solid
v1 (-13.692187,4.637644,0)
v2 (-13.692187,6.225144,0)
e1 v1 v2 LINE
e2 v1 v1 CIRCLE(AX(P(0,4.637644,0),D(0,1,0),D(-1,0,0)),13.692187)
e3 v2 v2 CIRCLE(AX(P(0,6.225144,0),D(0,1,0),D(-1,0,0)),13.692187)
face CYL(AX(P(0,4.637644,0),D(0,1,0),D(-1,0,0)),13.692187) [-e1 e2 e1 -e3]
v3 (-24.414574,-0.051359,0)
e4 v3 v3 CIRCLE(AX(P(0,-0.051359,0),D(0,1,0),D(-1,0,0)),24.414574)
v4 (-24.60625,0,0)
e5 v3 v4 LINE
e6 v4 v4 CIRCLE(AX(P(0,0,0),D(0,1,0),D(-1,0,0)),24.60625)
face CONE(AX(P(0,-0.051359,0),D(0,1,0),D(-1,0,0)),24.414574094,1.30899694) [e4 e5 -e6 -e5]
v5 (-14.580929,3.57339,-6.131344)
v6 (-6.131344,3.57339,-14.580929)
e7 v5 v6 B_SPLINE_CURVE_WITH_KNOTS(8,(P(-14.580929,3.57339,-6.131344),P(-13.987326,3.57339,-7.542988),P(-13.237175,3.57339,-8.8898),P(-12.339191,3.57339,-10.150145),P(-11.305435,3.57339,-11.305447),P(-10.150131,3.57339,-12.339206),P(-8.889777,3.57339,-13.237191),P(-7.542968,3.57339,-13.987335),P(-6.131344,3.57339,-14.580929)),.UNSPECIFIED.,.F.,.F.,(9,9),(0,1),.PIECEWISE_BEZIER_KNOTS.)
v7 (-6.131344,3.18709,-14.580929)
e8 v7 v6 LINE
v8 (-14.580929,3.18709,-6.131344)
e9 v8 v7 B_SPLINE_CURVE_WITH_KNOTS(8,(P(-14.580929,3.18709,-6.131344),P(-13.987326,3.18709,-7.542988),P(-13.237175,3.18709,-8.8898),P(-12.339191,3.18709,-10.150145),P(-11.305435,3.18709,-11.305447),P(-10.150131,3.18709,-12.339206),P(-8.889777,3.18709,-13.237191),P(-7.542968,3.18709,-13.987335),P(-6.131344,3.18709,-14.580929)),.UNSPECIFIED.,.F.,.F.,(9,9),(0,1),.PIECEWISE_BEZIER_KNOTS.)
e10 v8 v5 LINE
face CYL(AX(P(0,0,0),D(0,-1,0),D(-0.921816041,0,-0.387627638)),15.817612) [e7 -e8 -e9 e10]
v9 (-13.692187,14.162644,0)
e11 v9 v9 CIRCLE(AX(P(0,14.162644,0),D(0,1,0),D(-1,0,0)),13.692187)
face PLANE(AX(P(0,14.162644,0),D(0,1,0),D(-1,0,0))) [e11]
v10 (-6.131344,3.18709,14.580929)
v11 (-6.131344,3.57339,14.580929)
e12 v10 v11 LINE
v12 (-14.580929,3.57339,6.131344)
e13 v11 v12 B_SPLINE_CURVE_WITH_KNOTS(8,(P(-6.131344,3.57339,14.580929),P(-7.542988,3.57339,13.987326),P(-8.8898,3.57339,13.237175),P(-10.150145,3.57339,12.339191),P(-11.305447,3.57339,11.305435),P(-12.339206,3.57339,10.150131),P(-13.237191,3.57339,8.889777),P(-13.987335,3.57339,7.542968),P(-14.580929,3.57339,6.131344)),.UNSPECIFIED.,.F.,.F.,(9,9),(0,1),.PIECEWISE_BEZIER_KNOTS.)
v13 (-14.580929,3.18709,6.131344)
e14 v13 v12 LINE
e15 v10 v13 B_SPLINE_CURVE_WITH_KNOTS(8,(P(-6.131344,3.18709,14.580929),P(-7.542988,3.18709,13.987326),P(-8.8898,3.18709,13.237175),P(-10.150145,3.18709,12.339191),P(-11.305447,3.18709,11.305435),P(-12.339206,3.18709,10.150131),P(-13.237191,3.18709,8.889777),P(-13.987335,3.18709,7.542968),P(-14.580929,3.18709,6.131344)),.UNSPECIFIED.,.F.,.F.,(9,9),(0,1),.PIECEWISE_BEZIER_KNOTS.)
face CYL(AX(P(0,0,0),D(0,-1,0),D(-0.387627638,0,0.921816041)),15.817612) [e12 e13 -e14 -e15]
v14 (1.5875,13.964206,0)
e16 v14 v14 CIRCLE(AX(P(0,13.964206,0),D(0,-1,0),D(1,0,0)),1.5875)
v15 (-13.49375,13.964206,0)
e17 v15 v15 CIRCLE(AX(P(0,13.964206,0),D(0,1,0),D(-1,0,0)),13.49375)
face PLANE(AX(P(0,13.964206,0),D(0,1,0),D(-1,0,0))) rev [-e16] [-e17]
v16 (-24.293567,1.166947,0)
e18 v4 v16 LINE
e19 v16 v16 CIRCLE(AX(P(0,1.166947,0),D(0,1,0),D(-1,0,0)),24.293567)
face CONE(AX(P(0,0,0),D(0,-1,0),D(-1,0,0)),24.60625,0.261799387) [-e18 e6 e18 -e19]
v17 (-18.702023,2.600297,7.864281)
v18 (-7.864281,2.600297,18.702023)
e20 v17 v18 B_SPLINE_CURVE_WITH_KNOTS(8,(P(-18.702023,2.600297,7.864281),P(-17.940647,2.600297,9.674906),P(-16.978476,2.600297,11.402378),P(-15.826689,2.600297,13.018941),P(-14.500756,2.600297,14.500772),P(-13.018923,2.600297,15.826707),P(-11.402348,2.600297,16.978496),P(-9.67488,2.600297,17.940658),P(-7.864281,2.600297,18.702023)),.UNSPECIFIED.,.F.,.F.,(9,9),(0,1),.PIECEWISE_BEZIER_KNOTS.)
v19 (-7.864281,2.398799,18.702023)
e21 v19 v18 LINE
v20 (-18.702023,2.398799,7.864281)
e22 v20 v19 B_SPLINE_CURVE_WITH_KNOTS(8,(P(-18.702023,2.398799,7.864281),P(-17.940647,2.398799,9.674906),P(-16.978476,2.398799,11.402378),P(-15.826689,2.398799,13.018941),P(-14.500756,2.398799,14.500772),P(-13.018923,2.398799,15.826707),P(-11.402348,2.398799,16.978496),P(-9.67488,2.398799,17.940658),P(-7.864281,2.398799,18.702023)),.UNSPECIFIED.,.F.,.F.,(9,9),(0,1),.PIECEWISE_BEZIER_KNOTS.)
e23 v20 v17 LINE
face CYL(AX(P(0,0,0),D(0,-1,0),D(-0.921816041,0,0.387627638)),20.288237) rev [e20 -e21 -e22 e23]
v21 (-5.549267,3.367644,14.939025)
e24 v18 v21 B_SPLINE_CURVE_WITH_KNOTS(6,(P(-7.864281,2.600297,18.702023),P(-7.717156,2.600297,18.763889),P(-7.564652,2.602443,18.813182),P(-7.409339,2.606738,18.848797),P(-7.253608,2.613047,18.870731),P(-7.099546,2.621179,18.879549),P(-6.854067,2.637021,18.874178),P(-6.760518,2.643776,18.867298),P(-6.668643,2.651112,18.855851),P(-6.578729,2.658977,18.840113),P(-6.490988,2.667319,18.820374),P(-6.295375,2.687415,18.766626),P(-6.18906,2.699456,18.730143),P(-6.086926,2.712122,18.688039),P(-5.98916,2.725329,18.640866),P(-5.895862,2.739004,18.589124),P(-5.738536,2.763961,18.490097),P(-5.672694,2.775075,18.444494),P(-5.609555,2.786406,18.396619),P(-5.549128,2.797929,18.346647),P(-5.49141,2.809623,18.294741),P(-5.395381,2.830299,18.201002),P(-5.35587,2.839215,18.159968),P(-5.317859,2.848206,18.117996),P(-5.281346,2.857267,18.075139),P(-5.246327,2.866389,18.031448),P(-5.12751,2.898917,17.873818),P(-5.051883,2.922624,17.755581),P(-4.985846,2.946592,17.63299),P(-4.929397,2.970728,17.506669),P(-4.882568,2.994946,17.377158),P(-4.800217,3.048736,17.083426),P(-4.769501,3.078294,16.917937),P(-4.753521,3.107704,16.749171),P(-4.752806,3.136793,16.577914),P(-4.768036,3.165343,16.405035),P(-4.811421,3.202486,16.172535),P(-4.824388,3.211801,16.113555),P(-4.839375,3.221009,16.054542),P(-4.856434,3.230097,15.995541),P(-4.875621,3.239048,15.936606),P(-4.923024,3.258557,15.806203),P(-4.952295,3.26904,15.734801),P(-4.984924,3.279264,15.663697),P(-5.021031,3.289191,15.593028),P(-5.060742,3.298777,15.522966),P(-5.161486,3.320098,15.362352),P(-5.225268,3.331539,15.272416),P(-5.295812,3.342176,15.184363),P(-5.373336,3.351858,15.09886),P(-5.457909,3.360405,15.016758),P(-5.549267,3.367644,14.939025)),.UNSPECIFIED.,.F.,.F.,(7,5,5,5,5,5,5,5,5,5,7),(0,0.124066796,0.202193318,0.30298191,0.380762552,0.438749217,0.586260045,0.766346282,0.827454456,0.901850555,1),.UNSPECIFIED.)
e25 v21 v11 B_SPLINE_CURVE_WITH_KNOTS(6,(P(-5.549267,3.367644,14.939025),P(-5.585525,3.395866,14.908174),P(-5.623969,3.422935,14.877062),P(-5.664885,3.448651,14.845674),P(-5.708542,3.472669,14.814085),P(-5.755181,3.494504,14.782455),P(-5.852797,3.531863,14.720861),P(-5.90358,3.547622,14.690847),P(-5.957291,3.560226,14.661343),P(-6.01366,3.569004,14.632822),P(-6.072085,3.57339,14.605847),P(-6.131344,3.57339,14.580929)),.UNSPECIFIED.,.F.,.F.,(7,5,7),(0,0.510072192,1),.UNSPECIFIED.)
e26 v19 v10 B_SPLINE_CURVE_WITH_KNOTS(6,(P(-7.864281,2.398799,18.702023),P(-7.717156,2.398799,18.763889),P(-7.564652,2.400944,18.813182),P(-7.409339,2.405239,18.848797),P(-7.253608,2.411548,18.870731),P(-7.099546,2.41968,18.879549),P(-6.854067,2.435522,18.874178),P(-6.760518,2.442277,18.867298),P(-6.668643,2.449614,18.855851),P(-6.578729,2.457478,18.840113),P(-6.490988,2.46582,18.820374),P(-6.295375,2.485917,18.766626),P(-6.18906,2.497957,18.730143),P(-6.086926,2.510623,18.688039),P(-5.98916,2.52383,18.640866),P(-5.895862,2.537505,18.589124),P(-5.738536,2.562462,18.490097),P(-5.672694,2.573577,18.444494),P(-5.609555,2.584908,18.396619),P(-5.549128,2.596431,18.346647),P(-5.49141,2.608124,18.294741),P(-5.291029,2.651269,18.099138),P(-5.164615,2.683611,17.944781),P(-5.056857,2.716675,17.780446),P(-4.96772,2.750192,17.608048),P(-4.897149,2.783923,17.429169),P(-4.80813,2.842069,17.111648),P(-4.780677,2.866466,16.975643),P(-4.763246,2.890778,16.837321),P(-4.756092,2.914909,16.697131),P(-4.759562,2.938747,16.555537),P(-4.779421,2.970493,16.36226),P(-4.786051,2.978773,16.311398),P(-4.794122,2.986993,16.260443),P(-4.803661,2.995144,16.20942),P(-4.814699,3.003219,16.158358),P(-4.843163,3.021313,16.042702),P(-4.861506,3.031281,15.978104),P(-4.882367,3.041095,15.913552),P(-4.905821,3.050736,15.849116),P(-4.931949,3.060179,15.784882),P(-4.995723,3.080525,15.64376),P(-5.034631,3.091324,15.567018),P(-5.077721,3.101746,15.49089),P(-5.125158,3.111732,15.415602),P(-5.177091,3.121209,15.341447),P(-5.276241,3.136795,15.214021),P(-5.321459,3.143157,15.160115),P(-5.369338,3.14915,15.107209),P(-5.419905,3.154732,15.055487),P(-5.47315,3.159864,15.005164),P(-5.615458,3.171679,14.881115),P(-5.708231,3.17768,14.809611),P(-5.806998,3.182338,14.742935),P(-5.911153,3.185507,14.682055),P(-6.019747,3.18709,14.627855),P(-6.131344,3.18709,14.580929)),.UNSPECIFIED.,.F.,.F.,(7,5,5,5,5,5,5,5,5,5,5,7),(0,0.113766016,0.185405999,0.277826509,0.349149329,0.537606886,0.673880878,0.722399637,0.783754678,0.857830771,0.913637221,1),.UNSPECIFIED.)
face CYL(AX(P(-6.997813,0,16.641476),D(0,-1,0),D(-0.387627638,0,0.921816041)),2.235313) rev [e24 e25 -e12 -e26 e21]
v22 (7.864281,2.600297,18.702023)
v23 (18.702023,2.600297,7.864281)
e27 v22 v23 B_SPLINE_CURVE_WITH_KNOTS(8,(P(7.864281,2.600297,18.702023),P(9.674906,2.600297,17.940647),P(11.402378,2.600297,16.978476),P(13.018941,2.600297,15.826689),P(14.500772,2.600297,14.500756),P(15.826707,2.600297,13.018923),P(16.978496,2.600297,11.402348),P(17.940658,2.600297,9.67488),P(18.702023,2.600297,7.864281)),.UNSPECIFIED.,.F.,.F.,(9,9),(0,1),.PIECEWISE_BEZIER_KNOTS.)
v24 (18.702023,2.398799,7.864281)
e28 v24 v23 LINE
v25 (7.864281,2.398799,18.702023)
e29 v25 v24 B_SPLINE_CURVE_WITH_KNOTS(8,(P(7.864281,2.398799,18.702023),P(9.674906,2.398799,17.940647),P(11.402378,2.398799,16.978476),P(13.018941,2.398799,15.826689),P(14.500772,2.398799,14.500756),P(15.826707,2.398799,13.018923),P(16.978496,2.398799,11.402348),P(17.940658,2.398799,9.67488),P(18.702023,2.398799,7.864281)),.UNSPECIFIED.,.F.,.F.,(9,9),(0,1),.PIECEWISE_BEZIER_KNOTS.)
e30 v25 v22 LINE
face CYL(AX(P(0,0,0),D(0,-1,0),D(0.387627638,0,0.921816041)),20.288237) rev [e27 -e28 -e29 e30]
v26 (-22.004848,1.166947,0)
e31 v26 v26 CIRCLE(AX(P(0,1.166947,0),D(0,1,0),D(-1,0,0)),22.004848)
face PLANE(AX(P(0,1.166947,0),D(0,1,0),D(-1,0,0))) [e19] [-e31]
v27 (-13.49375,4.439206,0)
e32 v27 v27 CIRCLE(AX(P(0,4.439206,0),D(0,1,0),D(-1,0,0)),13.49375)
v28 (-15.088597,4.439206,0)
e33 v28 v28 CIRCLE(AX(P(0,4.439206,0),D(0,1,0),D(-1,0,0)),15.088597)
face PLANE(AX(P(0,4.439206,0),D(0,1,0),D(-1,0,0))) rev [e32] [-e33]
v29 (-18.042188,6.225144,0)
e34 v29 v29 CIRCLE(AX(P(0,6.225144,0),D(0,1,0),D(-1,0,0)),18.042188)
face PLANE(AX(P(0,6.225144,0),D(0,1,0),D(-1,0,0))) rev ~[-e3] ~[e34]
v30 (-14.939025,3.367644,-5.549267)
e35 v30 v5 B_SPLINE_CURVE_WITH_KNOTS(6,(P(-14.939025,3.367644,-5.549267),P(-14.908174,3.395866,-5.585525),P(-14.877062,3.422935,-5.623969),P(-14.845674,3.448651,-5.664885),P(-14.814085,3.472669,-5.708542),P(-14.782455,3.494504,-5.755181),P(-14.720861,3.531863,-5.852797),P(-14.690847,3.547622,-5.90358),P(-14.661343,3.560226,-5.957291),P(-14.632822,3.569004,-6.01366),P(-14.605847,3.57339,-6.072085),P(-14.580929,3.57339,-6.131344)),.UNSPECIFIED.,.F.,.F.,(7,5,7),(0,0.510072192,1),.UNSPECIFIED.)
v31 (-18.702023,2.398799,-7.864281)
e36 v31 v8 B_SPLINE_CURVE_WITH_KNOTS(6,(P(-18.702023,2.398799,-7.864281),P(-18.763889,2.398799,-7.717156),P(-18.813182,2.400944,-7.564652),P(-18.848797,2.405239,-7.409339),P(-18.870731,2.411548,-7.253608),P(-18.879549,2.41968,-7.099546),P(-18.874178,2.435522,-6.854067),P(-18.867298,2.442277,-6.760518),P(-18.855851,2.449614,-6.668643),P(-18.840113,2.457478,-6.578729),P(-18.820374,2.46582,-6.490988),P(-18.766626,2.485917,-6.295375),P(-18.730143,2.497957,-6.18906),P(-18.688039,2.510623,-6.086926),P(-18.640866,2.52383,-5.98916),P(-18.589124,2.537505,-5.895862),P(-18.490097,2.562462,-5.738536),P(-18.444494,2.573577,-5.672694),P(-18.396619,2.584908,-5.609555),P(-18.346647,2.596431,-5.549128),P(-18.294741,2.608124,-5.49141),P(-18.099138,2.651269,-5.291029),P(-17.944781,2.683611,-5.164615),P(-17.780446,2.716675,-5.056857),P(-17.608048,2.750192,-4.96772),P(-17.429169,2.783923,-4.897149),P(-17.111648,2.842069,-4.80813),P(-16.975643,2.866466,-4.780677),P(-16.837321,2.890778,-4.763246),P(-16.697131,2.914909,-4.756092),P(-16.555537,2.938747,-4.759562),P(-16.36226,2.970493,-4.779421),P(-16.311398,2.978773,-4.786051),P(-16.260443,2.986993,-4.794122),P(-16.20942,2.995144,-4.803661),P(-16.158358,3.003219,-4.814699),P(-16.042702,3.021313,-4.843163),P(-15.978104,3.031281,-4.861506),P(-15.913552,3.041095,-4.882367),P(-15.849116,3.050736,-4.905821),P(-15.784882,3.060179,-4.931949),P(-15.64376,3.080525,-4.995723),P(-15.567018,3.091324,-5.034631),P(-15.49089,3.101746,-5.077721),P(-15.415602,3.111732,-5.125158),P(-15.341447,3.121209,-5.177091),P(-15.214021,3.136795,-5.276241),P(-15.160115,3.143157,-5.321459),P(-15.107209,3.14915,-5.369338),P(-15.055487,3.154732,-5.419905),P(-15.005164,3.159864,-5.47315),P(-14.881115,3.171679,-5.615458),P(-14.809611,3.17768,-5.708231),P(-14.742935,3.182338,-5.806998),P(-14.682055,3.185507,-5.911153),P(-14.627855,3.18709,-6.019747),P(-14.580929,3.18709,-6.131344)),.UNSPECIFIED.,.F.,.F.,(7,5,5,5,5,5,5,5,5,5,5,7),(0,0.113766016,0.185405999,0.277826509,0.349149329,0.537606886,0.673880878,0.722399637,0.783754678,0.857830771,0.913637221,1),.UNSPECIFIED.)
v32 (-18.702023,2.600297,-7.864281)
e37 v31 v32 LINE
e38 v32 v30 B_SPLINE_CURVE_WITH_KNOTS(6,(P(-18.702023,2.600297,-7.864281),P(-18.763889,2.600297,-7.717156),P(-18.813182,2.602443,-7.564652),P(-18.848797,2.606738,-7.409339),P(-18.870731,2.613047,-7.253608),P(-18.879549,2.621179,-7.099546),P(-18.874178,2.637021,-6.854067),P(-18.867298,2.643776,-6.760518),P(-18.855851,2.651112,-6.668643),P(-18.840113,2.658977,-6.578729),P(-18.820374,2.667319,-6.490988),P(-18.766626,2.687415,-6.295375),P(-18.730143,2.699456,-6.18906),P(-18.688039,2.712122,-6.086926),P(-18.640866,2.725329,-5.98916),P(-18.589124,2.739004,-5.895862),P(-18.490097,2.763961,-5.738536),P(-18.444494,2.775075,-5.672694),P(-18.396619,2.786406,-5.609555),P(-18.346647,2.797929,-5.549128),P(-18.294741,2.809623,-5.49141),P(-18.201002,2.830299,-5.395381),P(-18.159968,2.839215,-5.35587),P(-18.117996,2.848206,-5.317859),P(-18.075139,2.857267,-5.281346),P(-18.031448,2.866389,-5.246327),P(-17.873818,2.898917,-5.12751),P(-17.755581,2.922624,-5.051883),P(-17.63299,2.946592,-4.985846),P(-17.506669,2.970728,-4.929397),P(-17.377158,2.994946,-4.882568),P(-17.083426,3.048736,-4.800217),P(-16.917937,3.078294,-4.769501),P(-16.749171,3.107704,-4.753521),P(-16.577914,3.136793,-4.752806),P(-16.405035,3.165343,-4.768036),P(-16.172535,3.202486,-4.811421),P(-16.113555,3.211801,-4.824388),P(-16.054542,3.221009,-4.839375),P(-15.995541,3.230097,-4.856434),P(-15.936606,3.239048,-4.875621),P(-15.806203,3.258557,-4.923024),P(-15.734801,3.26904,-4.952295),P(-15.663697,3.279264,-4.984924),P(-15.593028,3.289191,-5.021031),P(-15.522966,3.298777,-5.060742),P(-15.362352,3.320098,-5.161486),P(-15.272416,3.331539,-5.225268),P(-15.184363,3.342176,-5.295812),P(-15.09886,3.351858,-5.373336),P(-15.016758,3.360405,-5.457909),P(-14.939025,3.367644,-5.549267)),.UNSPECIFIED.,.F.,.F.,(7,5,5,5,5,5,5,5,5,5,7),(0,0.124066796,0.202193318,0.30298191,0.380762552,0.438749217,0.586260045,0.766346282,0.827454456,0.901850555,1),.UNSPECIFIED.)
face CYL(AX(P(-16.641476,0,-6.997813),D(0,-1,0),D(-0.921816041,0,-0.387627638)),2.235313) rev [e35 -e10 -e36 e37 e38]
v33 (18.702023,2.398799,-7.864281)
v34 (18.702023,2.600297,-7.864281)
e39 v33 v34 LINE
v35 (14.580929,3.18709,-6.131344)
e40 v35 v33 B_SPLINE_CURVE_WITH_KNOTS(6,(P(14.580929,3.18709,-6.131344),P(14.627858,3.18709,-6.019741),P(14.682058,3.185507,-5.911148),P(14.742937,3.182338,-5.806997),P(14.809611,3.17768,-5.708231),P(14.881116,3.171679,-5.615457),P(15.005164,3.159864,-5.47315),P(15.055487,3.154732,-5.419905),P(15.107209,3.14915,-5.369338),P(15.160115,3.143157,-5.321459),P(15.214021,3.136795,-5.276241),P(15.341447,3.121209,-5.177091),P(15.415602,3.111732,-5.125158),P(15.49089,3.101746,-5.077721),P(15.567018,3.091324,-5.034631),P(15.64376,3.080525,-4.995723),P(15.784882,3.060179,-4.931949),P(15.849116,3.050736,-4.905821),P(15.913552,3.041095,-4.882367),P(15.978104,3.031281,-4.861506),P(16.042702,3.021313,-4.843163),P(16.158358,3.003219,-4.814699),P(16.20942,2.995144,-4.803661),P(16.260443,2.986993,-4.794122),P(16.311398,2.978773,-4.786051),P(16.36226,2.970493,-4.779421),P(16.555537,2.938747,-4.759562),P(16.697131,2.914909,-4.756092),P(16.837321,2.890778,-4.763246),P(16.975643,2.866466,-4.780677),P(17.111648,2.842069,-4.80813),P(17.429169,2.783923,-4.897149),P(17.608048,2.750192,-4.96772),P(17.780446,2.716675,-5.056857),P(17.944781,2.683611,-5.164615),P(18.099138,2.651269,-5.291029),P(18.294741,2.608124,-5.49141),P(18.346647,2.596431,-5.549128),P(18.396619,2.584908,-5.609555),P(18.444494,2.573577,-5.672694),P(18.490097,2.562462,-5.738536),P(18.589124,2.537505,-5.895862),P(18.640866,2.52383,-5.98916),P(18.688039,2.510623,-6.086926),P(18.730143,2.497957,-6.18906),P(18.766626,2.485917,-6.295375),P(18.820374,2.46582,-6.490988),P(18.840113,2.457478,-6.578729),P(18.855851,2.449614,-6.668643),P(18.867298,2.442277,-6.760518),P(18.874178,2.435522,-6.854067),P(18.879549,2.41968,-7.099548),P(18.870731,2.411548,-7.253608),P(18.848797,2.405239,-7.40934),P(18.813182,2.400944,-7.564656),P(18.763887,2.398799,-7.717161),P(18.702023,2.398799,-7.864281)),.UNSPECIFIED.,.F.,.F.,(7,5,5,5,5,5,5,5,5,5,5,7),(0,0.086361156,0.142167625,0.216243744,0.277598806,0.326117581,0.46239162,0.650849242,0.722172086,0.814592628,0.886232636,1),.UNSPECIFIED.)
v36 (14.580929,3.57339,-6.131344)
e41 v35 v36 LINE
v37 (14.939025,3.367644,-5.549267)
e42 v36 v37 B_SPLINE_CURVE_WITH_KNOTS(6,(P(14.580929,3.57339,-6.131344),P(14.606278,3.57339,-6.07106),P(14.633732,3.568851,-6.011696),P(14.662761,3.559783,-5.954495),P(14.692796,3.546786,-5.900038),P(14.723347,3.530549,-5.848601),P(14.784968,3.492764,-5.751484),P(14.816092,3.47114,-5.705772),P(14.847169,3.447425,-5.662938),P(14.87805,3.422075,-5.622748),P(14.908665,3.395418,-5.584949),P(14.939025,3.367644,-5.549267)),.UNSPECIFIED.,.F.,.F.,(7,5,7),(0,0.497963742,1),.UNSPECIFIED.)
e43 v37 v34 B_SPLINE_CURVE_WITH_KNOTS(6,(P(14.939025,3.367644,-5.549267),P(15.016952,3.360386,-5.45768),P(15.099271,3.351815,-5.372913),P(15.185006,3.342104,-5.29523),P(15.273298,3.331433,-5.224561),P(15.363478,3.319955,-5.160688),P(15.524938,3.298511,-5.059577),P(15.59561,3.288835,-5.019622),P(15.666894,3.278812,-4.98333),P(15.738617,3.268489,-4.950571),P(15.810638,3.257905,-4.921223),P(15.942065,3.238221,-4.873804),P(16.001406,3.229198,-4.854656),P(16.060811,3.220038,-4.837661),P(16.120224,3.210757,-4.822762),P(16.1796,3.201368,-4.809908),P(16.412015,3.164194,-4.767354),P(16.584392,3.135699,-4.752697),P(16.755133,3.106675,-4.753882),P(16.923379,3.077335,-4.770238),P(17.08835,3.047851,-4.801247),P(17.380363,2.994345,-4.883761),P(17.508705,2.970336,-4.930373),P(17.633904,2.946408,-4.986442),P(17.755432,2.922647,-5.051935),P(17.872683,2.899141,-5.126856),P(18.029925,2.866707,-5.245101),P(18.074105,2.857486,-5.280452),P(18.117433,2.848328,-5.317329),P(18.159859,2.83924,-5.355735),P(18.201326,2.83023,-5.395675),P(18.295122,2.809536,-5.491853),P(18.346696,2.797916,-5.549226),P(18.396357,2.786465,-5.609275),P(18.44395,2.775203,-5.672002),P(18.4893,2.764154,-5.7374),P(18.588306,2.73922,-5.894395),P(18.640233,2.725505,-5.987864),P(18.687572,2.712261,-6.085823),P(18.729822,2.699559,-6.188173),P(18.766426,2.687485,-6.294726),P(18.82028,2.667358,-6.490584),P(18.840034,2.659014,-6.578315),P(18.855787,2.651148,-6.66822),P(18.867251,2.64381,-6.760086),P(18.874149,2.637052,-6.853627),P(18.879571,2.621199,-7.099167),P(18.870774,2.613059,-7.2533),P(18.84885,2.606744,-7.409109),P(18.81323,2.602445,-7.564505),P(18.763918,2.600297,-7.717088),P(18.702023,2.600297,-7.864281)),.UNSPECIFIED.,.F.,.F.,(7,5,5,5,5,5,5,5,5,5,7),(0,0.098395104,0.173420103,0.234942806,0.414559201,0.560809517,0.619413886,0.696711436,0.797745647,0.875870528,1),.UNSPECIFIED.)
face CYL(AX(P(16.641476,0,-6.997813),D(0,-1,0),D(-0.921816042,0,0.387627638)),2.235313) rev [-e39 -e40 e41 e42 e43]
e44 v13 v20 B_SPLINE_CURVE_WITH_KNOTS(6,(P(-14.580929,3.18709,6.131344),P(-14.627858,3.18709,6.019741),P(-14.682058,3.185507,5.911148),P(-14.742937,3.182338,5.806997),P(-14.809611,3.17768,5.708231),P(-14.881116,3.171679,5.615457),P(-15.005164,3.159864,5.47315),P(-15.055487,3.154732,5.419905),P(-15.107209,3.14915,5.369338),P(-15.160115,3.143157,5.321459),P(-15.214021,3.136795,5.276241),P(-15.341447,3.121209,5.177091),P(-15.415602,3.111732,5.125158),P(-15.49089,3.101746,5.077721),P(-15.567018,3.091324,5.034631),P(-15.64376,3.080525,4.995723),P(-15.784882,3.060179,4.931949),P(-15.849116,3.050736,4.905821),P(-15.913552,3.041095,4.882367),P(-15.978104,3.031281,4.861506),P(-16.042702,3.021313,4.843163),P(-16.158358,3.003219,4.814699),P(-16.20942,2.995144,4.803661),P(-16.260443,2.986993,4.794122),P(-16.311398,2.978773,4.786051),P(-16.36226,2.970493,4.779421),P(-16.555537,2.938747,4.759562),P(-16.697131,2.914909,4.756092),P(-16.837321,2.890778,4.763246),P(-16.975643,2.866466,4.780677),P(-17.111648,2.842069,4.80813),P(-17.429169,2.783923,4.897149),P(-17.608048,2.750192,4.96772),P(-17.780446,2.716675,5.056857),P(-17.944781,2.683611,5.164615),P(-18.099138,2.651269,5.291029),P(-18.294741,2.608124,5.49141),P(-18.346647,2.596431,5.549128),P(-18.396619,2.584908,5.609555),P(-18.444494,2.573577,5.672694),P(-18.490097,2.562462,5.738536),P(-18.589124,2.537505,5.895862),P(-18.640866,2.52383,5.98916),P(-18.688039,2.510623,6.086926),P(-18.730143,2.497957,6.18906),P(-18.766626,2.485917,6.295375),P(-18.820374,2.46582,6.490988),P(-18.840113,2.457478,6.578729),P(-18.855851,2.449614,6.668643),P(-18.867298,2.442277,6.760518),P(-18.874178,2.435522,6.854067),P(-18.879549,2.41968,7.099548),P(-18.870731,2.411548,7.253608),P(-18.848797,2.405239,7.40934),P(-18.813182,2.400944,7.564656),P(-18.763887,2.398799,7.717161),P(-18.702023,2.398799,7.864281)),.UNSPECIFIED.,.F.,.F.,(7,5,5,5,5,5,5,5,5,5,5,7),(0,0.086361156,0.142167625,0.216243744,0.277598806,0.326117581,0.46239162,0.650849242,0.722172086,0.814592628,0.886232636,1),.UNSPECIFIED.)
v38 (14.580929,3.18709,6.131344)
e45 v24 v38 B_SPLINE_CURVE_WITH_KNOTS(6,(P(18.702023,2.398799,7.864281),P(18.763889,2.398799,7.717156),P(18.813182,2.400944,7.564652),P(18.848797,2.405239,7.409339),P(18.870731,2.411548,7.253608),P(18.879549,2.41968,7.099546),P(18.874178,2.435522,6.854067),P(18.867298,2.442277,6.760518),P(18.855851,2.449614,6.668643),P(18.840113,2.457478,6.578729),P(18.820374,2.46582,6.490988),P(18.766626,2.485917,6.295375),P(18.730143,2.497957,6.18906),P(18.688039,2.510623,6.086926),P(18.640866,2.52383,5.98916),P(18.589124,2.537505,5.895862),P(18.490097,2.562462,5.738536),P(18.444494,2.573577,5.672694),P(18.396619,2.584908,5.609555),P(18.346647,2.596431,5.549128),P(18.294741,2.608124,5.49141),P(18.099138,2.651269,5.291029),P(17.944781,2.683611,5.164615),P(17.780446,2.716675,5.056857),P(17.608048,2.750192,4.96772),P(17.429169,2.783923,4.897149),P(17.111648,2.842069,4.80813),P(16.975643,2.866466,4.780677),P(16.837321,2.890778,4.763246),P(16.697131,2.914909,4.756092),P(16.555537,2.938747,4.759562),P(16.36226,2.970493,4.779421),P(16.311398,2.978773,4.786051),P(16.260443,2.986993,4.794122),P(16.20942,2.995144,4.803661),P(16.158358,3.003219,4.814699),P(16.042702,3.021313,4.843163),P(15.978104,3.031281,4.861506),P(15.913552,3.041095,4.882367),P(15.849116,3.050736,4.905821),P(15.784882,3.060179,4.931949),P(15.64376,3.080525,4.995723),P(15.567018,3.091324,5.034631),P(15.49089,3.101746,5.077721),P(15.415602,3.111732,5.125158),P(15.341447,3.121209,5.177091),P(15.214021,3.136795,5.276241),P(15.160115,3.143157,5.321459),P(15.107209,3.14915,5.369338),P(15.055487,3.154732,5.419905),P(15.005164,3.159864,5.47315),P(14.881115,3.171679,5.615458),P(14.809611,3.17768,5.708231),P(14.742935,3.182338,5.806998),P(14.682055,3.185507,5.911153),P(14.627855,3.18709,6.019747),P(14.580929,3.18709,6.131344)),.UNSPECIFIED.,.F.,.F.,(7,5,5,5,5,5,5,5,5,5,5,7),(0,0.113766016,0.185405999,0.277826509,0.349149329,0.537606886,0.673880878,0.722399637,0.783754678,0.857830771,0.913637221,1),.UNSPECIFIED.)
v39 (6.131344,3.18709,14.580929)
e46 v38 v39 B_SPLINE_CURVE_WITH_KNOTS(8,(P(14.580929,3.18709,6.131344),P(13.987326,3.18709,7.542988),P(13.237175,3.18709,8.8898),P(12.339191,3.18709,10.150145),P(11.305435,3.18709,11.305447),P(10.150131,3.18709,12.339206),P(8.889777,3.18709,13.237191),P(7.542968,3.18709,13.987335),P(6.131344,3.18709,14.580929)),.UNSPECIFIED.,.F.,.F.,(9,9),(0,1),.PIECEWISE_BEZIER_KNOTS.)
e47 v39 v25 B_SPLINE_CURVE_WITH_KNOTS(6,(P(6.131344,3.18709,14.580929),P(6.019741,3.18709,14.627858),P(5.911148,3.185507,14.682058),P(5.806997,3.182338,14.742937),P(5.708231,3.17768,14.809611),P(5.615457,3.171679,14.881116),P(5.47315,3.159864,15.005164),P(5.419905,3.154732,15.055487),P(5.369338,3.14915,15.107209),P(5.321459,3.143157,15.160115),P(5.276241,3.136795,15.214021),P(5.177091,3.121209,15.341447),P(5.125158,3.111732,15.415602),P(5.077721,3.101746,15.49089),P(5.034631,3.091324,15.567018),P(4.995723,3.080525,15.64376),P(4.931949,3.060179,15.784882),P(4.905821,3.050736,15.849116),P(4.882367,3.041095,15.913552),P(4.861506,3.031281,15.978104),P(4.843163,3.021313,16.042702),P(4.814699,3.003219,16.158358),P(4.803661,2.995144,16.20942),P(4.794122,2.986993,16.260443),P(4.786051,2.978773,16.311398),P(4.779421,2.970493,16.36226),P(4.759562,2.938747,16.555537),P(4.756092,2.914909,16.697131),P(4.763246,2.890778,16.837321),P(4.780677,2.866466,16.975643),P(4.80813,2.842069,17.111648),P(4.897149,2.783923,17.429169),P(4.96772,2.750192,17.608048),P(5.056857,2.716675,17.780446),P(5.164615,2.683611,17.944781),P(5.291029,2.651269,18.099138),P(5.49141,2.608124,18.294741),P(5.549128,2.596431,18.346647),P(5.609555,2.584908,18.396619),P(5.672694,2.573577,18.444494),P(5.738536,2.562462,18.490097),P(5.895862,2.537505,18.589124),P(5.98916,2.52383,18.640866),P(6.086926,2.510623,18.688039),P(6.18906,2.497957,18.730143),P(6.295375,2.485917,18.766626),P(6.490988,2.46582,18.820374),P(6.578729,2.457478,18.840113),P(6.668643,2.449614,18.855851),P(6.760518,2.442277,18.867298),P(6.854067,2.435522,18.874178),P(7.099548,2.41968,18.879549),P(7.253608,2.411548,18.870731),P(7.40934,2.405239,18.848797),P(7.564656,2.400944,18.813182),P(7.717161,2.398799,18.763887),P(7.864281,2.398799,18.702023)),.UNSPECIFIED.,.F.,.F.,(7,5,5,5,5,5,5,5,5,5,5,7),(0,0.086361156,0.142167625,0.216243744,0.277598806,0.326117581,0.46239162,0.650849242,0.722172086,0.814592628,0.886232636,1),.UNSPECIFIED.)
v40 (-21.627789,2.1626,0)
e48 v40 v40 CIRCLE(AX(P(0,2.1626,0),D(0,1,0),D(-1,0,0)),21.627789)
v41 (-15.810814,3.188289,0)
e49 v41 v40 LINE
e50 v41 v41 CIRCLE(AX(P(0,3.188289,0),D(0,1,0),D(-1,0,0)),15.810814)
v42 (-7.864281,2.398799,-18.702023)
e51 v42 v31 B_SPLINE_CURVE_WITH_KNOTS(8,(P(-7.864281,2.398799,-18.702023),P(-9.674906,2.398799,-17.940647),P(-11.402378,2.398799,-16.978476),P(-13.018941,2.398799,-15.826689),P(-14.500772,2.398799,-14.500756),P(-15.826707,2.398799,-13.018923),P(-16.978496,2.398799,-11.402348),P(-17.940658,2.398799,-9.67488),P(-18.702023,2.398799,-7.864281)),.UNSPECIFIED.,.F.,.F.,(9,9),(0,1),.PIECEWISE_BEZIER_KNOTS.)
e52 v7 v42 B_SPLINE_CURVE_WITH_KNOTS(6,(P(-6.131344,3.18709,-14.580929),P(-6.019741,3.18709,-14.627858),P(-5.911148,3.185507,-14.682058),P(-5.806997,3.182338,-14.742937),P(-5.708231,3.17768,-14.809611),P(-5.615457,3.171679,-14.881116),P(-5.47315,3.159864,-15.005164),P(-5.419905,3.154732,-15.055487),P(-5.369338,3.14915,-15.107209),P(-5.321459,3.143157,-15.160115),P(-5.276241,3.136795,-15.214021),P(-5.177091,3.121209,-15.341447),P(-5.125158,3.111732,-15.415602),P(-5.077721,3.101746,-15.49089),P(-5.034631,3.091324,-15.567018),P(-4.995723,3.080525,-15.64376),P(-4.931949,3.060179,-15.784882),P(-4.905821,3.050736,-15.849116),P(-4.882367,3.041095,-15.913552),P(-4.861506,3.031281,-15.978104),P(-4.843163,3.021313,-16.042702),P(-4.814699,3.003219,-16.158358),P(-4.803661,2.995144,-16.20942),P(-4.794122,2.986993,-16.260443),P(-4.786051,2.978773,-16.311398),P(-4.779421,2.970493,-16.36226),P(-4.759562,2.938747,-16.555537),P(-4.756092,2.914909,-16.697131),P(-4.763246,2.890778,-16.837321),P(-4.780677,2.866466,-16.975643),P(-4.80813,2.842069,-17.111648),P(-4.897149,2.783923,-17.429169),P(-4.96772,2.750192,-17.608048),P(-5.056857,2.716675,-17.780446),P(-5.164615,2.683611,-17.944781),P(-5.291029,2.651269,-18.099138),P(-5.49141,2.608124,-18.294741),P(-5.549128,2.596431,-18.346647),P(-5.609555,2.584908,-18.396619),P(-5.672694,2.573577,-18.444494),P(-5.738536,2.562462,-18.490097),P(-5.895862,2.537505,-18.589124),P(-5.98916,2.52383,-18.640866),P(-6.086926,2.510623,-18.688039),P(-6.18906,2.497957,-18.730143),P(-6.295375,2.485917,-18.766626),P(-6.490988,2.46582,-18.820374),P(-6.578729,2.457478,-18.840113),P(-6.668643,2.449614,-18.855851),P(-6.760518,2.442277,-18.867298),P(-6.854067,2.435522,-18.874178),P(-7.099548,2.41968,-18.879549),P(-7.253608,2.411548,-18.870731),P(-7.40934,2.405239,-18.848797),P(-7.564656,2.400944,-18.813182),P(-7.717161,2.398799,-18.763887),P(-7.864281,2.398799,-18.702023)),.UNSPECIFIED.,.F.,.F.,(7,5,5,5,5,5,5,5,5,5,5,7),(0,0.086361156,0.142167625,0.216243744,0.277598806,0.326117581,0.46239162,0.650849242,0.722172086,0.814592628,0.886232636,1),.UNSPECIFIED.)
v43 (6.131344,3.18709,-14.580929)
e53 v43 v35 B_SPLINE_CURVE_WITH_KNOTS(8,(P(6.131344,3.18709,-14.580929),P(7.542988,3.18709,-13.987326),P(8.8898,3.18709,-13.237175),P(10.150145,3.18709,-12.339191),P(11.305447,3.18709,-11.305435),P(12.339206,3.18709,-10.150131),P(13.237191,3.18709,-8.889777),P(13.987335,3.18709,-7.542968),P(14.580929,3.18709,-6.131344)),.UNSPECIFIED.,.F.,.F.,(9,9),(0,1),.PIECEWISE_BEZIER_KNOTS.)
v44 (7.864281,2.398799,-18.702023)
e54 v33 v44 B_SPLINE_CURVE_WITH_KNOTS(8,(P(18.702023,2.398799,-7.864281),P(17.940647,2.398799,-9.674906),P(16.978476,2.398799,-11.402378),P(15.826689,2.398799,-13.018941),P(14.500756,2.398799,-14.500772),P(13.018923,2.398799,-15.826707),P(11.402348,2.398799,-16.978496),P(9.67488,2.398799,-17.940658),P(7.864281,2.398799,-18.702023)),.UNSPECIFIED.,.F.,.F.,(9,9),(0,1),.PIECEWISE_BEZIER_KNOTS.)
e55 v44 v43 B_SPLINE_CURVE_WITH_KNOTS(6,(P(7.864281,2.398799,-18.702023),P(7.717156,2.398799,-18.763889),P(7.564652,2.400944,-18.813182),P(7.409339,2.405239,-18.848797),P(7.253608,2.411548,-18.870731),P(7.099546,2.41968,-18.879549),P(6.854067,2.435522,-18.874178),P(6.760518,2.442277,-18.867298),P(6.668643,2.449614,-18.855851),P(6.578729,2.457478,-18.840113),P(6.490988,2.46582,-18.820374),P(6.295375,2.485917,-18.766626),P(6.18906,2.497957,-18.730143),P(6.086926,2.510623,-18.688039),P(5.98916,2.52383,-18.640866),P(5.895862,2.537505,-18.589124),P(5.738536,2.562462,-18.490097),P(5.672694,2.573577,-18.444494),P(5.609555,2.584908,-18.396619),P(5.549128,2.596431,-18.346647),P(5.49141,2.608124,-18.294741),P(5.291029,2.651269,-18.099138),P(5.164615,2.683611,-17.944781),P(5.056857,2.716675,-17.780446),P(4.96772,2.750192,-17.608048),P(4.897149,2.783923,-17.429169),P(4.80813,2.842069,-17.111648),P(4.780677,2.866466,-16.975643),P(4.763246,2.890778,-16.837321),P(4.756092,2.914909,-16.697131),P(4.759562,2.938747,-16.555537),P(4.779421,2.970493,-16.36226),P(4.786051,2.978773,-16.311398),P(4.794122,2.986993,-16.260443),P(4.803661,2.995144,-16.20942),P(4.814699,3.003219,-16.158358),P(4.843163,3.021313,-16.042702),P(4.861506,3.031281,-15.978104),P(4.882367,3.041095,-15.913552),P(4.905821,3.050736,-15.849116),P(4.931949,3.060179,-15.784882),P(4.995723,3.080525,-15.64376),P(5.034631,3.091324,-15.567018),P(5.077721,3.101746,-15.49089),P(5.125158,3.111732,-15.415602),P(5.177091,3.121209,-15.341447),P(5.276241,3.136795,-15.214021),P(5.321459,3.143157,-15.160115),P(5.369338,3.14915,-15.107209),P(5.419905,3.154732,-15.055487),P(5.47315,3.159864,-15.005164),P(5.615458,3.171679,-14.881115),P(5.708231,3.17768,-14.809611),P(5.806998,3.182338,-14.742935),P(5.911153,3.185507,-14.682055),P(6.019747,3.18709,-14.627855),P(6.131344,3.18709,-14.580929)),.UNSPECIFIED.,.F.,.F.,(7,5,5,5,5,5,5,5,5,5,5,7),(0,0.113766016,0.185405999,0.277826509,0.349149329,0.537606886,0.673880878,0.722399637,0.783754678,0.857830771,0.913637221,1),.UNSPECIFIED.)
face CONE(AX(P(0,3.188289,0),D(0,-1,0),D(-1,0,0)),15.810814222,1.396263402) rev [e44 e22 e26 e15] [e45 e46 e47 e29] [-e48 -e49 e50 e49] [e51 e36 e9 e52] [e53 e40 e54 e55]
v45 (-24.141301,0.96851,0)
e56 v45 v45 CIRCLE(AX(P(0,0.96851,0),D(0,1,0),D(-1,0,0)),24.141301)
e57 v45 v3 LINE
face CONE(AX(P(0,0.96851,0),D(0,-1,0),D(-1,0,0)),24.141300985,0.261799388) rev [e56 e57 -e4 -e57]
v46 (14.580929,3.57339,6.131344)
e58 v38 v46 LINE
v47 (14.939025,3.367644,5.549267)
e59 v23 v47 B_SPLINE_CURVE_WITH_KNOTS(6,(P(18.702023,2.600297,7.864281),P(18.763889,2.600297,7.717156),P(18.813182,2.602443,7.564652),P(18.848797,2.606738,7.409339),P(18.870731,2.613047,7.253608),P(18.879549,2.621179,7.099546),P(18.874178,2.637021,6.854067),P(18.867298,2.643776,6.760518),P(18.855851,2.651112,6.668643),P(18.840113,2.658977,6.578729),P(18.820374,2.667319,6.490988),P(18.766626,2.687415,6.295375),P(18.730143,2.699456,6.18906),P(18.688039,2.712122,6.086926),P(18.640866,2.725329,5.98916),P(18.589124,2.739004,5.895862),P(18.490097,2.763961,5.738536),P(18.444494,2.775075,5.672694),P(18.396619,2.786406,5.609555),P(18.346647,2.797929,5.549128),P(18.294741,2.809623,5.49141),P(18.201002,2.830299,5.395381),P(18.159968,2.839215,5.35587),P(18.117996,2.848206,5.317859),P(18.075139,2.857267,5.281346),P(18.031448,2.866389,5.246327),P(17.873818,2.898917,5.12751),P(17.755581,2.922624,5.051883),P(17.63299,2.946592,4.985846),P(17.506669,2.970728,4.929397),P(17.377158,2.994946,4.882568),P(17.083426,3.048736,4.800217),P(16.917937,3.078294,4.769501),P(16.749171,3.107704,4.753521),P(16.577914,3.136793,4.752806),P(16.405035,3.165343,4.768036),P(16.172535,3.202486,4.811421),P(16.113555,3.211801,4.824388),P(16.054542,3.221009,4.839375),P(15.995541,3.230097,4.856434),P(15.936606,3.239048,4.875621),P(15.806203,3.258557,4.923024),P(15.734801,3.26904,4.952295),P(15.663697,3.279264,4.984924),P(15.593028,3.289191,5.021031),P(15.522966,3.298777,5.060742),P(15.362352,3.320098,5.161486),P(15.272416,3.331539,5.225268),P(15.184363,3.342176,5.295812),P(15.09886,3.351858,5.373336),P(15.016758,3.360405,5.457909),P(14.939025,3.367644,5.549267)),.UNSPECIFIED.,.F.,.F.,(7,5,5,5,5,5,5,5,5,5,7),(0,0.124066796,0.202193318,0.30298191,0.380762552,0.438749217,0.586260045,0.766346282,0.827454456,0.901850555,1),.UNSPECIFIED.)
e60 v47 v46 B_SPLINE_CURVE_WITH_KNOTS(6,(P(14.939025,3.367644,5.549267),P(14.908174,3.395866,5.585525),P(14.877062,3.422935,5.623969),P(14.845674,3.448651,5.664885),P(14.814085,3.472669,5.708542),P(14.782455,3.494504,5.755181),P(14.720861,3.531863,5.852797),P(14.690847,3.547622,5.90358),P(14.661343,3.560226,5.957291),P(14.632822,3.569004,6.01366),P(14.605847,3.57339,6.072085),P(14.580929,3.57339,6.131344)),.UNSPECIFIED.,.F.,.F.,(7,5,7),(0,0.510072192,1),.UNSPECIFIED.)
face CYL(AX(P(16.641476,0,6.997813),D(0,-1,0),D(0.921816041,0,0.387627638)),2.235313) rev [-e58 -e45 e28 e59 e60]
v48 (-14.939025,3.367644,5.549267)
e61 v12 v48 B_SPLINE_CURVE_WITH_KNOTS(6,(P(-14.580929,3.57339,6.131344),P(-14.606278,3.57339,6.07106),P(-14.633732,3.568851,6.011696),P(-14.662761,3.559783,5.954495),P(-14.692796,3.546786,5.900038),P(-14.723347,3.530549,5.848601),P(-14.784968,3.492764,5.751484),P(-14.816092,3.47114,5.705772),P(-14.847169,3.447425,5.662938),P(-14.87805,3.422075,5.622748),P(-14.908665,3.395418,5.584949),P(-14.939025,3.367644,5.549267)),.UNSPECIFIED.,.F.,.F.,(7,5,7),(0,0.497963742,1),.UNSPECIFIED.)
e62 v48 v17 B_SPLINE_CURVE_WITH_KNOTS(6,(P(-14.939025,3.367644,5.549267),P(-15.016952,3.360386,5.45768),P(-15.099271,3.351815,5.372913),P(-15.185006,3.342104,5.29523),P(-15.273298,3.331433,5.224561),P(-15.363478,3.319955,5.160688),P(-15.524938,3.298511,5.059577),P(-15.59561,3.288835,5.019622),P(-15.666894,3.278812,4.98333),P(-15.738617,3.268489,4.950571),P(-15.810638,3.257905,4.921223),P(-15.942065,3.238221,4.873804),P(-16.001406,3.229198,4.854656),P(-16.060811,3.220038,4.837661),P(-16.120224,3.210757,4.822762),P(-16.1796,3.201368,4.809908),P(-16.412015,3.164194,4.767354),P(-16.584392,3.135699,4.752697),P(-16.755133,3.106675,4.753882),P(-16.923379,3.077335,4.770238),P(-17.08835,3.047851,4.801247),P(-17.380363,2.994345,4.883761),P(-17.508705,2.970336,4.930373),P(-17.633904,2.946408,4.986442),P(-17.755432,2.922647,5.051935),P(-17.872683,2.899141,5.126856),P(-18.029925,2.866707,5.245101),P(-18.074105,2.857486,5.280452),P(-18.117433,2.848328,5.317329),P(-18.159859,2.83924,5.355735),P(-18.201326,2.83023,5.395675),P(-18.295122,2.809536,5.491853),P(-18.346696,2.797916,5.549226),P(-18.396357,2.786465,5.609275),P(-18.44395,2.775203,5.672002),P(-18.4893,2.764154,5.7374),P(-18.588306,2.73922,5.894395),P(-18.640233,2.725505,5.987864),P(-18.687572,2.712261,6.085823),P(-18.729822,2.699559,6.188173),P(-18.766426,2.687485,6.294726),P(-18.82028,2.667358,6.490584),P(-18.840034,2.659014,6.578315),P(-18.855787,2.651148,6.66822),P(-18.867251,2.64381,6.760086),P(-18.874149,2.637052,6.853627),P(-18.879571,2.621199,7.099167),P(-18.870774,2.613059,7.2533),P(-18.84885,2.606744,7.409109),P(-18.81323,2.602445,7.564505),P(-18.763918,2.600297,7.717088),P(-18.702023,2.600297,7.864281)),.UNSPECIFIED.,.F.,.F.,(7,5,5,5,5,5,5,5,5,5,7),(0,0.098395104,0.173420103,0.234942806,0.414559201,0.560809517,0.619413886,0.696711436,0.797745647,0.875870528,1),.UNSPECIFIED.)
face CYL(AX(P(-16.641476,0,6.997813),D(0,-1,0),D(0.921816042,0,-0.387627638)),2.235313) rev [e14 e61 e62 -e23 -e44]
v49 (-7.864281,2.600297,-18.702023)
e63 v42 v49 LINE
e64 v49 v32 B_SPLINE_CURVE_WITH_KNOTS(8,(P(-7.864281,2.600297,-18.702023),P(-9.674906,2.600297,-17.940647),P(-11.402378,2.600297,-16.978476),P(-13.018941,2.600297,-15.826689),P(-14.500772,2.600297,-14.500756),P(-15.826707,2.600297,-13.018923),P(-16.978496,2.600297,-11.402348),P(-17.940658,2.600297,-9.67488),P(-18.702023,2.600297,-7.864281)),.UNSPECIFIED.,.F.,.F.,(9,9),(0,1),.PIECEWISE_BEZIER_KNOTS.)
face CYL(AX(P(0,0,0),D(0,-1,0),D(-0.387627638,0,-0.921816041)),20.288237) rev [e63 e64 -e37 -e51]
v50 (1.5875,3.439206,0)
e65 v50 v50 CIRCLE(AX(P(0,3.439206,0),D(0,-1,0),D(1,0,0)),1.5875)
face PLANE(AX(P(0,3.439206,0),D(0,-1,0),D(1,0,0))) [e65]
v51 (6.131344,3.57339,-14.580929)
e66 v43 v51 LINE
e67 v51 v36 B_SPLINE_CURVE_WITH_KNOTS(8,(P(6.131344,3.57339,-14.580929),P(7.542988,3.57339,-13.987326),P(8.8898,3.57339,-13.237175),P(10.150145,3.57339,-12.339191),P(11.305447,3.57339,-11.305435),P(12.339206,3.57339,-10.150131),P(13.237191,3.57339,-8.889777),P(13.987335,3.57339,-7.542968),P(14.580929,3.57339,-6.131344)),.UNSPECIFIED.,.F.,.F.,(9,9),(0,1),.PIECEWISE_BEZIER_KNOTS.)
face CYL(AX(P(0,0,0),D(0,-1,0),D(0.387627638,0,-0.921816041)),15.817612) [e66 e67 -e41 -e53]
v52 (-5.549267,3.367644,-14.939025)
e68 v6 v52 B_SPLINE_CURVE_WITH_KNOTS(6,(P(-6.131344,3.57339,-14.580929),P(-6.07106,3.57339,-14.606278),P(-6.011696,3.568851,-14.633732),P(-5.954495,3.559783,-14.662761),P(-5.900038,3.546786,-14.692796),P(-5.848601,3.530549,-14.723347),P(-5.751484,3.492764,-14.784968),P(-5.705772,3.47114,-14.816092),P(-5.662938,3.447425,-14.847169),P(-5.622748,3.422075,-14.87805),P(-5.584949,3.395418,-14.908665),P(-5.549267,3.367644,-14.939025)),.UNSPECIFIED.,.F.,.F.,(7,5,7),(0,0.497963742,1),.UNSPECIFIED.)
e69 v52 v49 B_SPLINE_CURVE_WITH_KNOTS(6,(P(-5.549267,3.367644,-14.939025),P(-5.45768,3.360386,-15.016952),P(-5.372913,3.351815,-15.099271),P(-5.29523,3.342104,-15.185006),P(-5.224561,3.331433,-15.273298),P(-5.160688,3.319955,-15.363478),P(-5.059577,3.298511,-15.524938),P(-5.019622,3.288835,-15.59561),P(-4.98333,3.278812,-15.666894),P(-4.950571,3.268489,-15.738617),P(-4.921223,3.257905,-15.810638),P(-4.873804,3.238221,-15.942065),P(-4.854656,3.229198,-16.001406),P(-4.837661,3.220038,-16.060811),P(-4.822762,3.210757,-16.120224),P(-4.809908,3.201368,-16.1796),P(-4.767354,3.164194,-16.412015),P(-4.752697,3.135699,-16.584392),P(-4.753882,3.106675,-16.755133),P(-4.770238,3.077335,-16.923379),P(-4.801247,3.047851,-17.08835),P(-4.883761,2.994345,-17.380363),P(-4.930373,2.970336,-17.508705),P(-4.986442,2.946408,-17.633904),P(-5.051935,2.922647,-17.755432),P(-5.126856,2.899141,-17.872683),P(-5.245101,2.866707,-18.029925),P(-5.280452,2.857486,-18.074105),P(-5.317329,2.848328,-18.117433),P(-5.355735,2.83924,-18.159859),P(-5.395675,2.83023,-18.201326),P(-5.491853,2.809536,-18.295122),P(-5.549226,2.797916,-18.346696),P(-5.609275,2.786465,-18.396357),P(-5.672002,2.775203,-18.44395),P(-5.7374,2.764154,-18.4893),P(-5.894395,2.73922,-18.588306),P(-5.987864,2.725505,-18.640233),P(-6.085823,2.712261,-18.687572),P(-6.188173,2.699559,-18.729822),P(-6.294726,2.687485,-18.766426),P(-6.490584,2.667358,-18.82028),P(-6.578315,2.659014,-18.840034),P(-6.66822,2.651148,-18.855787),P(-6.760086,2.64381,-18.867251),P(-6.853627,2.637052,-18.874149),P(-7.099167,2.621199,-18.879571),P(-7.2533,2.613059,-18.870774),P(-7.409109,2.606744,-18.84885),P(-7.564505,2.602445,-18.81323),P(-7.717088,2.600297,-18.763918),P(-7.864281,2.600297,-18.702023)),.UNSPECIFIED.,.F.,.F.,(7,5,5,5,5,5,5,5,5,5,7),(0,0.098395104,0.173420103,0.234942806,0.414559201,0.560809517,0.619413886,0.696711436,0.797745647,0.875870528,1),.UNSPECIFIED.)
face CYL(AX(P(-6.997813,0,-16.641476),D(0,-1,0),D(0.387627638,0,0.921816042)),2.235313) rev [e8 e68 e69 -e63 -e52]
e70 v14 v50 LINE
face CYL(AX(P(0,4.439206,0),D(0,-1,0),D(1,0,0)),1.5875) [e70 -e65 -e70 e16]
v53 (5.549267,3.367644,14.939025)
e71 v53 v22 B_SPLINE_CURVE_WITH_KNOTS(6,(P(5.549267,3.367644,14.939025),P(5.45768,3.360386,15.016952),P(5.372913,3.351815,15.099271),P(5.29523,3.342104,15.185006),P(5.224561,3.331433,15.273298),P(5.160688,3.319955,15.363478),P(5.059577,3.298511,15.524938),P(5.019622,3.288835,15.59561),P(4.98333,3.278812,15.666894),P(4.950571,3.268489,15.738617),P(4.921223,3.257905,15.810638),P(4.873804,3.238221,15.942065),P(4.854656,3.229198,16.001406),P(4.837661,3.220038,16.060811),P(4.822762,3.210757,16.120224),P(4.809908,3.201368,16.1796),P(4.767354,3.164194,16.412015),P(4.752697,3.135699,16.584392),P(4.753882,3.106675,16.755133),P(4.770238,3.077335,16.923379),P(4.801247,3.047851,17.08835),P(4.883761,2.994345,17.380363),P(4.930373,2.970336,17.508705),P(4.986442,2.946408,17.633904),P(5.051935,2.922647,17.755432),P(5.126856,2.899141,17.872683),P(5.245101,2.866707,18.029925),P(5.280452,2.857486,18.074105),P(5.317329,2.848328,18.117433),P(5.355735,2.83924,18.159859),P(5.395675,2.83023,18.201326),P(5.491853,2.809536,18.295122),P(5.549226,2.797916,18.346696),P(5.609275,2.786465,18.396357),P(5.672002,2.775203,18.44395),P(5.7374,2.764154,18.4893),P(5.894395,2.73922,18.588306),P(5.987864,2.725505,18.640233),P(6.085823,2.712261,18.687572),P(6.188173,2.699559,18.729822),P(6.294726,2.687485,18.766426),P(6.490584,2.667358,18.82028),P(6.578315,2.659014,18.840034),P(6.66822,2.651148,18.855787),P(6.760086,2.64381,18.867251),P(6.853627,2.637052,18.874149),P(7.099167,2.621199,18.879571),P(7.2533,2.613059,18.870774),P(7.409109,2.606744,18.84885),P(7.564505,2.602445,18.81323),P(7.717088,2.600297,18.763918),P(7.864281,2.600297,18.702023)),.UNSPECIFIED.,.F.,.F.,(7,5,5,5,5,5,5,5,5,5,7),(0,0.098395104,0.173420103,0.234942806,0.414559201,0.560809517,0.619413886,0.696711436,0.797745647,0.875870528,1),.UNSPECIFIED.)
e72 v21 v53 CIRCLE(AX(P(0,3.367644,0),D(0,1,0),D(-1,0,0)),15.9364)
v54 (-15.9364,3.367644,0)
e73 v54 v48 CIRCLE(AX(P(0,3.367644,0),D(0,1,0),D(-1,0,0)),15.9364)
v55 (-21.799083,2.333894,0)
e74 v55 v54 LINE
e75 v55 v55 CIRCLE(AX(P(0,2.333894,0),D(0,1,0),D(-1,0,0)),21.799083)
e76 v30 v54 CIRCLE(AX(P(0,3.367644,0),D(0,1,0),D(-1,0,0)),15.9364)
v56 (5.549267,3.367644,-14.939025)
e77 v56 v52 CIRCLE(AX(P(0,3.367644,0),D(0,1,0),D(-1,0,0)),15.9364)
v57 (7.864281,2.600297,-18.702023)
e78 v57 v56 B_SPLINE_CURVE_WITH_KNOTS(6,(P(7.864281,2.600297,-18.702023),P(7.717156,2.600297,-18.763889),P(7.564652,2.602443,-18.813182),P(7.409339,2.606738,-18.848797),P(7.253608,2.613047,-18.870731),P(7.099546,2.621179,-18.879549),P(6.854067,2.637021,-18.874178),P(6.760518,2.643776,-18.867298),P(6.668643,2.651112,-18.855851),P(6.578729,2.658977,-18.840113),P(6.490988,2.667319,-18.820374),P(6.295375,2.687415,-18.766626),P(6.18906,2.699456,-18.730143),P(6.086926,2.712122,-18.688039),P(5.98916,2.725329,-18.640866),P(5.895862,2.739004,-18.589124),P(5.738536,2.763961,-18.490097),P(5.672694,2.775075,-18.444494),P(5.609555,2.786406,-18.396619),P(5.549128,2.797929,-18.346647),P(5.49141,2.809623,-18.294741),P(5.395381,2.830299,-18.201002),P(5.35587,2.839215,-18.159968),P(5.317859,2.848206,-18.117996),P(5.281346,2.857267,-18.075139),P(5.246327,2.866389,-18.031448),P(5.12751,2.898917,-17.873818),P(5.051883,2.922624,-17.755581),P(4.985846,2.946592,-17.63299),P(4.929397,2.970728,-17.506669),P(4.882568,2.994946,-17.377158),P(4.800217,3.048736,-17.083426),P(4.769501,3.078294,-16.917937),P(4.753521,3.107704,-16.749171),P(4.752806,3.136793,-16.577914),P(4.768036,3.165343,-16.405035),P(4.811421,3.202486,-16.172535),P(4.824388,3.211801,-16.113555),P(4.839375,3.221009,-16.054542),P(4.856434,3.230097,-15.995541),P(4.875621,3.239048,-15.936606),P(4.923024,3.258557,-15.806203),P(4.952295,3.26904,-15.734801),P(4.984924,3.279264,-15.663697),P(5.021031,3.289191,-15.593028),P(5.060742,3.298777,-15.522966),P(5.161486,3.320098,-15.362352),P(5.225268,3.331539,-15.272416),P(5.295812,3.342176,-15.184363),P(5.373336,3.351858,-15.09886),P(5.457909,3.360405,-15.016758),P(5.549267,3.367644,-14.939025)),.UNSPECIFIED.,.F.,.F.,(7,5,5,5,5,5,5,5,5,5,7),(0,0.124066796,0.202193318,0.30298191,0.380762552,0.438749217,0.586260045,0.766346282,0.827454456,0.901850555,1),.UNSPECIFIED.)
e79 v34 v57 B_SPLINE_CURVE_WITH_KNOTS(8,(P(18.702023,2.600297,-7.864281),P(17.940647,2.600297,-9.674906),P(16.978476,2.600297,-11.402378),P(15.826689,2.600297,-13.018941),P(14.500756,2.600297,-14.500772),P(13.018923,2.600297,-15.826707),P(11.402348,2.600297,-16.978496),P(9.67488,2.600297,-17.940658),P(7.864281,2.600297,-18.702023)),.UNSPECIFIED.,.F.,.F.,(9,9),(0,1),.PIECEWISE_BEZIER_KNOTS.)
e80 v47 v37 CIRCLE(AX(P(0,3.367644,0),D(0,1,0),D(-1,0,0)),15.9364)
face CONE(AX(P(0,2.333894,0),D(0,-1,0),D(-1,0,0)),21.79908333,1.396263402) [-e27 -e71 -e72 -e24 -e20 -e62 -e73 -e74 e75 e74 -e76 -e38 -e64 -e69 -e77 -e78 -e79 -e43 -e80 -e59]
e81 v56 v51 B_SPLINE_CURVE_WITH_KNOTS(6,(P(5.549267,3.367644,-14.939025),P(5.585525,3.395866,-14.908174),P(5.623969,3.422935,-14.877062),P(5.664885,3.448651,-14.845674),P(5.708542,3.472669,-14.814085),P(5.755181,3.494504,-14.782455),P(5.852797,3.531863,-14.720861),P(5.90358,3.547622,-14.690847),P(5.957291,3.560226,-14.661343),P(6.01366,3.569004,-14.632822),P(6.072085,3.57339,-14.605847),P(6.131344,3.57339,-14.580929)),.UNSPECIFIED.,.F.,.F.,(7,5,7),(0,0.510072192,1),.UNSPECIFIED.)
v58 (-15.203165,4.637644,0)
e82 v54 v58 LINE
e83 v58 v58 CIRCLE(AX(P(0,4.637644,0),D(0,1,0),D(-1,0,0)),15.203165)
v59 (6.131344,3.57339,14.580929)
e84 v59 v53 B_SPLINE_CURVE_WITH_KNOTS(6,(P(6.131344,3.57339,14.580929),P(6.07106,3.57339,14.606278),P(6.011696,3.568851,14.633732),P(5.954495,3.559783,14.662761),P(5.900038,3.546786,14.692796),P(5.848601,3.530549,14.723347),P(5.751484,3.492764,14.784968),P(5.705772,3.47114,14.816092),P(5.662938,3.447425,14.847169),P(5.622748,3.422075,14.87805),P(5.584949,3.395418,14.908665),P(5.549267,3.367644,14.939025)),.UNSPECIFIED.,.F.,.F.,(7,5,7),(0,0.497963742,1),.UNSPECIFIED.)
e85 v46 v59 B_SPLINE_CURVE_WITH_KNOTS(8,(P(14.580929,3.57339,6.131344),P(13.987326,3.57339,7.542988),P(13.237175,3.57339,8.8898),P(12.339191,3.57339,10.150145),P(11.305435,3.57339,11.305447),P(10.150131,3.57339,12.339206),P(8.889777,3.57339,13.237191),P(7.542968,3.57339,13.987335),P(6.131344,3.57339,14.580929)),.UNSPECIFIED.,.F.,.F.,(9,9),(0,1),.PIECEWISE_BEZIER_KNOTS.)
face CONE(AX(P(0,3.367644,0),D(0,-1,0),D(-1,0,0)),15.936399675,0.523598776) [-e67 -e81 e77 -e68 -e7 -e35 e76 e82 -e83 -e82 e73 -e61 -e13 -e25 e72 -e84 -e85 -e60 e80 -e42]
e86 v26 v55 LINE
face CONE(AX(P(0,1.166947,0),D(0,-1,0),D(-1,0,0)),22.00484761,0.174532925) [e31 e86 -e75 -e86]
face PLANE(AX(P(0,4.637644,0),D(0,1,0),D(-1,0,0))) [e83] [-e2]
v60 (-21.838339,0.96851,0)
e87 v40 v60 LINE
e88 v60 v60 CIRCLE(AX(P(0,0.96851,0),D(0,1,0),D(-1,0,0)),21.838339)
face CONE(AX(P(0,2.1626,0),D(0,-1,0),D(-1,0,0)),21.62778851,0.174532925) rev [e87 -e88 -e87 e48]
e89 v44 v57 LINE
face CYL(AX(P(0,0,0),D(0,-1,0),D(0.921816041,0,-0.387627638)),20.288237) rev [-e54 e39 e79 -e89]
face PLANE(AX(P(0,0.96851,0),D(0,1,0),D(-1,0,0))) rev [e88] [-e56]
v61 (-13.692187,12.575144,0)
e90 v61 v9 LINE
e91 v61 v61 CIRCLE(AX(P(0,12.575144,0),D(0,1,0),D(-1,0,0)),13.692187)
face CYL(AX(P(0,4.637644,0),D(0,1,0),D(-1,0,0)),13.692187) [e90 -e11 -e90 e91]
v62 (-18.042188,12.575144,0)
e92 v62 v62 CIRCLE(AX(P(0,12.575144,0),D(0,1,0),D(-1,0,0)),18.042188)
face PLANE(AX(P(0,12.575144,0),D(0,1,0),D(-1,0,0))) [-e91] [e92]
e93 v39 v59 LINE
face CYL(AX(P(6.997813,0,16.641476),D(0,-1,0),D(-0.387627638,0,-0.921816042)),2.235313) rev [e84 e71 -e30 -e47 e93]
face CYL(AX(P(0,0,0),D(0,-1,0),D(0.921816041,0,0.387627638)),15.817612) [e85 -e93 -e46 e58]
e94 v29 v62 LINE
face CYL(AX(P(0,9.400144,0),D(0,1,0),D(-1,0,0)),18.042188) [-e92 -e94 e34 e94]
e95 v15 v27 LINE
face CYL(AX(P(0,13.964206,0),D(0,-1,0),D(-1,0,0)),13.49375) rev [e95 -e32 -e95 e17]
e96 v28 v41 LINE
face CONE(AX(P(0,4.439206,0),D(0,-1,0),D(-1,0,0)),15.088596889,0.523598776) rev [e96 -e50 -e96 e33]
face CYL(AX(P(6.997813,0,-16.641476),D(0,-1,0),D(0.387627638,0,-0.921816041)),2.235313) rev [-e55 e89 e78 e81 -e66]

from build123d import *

# Parameters (mm, degrees)
CUT_EXTRUDE2_DEPTH       = 15.16264375
SKETCH5_W                = 4.35
SKETCH5_H                = 6.35
SKETCH6_R                = 1.5875
BOSS_EXTRUDE2_DEPTH      = 1
BOSS_EXTRUDE2_DEPTH_BACK = 9.525


with BuildPart() as part:
    # Sketch2 → Revolve-Thin1 (revolve)
    with BuildSketch(Plane.XY):
        Polygon((-24.60625, 0), (-24.293567435, 1.166947221), (-22.00484761, 1.166947221), (-21.79908333, 2.333894442), (-15.936399675, 3.36764375), (-15.203164833, 4.63764375), (-13.6921875, 4.63764375), (-13.6921875, 14.16264375), (0, 14.16264375), (0, 13.96420625), (-13.49375, 13.96420625), (-13.49375, 4.43920625), (-15.088596889, 4.43920625), (-15.810814222, 3.188289135), (-21.62778851, 2.162599622), (-21.838338777, 0.968509721), (-24.141300985, 0.968509721), (-24.414574094, -0.051359404), align=None)
    revolve(axis=Axis((0, 0, 0), (0, 1, 0)))

    # Sketch4 → Cut-Extrude2 (cut, through all)
    with BuildSketch(Plane(origin=(0, 0, 0), x_dir=(1, 0, 0), z_dir=(0, 1, 0))):
        with BuildLine():
            ThreePointArc((-18.702022535, -7.864281481), (-14.345950127, -14.345950127), (-7.864281481, -18.702022535))
            ThreePointArc((-7.864281481, -18.702022535), (-4.937265584, -17.507944491), (-6.131343629, -14.580928594))
            ThreePointArc((-6.131343629, -14.580928594), (-11.184740796, -11.184740796), (-14.580928594, -6.131343629))
            ThreePointArc((-14.580928594, -6.131343629), (-17.507944491, -4.937265584), (-18.702022535, -7.864281481))
        make_face()
        with BuildLine():
            ThreePointArc((-7.864281481, 18.702022535), (-14.345950127, 14.345950127), (-18.702022535, 7.864281481))
            ThreePointArc((-18.702022535, 7.864281481), (-17.507944491, 4.937265584), (-14.580928594, 6.131343629))
            ThreePointArc((-14.580928594, 6.131343629), (-11.184740796, 11.184740796), (-6.131343629, 14.580928594))
            ThreePointArc((-6.131343629, 14.580928594), (-4.937265584, 17.507944491), (-7.864281481, 18.702022535))
        make_face()
        with BuildLine():
            ThreePointArc((18.702022535, 7.864281481), (14.345950127, 14.345950127), (7.864281481, 18.702022535))
            ThreePointArc((7.864281481, 18.702022535), (4.937265584, 17.507944491), (6.131343629, 14.580928594))
            ThreePointArc((6.131343629, 14.580928594), (11.184740796, 11.184740796), (14.580928594, 6.131343629))
            ThreePointArc((14.580928594, 6.131343629), (17.507944491, 4.937265584), (18.702022535, 7.864281481))
        make_face()
        with BuildLine():
            ThreePointArc((7.864281481, -18.702022535), (14.345950127, -14.345950127), (18.702022535, -7.864281481))
            ThreePointArc((18.702022535, -7.864281481), (17.507944491, -4.937265584), (14.580928594, -6.131343629))
            ThreePointArc((14.580928594, -6.131343629), (11.184740796, -11.184740796), (6.131343629, -14.580928594))
            ThreePointArc((6.131343629, -14.580928594), (4.937265584, -17.507944491), (7.864281481, -18.702022535))
        make_face()
    extrude(amount=CUT_EXTRUDE2_DEPTH, mode=Mode.SUBTRACT)

    # Sketch5 → Revolve1 (revolve)
    with BuildSketch(Plane.XY):
        with Locations((-15.8671875, 9.40014375)):
            Rectangle(SKETCH5_W, SKETCH5_H)
    revolve(axis=Axis((0, 0, 0), (0, 1, 0)))

    # Sketch6 → Boss-Extrude2 (add, two sides)
    with BuildSketch(Plane.XZ.offset(-4.43920625)) as boss_extrude2_sk:
        Circle(SKETCH6_R)
    extrude(amount=BOSS_EXTRUDE2_DEPTH)
    extrude(boss_extrude2_sk.sketch, amount=-BOSS_EXTRUDE2_DEPTH_BACK)


solid = part.part
